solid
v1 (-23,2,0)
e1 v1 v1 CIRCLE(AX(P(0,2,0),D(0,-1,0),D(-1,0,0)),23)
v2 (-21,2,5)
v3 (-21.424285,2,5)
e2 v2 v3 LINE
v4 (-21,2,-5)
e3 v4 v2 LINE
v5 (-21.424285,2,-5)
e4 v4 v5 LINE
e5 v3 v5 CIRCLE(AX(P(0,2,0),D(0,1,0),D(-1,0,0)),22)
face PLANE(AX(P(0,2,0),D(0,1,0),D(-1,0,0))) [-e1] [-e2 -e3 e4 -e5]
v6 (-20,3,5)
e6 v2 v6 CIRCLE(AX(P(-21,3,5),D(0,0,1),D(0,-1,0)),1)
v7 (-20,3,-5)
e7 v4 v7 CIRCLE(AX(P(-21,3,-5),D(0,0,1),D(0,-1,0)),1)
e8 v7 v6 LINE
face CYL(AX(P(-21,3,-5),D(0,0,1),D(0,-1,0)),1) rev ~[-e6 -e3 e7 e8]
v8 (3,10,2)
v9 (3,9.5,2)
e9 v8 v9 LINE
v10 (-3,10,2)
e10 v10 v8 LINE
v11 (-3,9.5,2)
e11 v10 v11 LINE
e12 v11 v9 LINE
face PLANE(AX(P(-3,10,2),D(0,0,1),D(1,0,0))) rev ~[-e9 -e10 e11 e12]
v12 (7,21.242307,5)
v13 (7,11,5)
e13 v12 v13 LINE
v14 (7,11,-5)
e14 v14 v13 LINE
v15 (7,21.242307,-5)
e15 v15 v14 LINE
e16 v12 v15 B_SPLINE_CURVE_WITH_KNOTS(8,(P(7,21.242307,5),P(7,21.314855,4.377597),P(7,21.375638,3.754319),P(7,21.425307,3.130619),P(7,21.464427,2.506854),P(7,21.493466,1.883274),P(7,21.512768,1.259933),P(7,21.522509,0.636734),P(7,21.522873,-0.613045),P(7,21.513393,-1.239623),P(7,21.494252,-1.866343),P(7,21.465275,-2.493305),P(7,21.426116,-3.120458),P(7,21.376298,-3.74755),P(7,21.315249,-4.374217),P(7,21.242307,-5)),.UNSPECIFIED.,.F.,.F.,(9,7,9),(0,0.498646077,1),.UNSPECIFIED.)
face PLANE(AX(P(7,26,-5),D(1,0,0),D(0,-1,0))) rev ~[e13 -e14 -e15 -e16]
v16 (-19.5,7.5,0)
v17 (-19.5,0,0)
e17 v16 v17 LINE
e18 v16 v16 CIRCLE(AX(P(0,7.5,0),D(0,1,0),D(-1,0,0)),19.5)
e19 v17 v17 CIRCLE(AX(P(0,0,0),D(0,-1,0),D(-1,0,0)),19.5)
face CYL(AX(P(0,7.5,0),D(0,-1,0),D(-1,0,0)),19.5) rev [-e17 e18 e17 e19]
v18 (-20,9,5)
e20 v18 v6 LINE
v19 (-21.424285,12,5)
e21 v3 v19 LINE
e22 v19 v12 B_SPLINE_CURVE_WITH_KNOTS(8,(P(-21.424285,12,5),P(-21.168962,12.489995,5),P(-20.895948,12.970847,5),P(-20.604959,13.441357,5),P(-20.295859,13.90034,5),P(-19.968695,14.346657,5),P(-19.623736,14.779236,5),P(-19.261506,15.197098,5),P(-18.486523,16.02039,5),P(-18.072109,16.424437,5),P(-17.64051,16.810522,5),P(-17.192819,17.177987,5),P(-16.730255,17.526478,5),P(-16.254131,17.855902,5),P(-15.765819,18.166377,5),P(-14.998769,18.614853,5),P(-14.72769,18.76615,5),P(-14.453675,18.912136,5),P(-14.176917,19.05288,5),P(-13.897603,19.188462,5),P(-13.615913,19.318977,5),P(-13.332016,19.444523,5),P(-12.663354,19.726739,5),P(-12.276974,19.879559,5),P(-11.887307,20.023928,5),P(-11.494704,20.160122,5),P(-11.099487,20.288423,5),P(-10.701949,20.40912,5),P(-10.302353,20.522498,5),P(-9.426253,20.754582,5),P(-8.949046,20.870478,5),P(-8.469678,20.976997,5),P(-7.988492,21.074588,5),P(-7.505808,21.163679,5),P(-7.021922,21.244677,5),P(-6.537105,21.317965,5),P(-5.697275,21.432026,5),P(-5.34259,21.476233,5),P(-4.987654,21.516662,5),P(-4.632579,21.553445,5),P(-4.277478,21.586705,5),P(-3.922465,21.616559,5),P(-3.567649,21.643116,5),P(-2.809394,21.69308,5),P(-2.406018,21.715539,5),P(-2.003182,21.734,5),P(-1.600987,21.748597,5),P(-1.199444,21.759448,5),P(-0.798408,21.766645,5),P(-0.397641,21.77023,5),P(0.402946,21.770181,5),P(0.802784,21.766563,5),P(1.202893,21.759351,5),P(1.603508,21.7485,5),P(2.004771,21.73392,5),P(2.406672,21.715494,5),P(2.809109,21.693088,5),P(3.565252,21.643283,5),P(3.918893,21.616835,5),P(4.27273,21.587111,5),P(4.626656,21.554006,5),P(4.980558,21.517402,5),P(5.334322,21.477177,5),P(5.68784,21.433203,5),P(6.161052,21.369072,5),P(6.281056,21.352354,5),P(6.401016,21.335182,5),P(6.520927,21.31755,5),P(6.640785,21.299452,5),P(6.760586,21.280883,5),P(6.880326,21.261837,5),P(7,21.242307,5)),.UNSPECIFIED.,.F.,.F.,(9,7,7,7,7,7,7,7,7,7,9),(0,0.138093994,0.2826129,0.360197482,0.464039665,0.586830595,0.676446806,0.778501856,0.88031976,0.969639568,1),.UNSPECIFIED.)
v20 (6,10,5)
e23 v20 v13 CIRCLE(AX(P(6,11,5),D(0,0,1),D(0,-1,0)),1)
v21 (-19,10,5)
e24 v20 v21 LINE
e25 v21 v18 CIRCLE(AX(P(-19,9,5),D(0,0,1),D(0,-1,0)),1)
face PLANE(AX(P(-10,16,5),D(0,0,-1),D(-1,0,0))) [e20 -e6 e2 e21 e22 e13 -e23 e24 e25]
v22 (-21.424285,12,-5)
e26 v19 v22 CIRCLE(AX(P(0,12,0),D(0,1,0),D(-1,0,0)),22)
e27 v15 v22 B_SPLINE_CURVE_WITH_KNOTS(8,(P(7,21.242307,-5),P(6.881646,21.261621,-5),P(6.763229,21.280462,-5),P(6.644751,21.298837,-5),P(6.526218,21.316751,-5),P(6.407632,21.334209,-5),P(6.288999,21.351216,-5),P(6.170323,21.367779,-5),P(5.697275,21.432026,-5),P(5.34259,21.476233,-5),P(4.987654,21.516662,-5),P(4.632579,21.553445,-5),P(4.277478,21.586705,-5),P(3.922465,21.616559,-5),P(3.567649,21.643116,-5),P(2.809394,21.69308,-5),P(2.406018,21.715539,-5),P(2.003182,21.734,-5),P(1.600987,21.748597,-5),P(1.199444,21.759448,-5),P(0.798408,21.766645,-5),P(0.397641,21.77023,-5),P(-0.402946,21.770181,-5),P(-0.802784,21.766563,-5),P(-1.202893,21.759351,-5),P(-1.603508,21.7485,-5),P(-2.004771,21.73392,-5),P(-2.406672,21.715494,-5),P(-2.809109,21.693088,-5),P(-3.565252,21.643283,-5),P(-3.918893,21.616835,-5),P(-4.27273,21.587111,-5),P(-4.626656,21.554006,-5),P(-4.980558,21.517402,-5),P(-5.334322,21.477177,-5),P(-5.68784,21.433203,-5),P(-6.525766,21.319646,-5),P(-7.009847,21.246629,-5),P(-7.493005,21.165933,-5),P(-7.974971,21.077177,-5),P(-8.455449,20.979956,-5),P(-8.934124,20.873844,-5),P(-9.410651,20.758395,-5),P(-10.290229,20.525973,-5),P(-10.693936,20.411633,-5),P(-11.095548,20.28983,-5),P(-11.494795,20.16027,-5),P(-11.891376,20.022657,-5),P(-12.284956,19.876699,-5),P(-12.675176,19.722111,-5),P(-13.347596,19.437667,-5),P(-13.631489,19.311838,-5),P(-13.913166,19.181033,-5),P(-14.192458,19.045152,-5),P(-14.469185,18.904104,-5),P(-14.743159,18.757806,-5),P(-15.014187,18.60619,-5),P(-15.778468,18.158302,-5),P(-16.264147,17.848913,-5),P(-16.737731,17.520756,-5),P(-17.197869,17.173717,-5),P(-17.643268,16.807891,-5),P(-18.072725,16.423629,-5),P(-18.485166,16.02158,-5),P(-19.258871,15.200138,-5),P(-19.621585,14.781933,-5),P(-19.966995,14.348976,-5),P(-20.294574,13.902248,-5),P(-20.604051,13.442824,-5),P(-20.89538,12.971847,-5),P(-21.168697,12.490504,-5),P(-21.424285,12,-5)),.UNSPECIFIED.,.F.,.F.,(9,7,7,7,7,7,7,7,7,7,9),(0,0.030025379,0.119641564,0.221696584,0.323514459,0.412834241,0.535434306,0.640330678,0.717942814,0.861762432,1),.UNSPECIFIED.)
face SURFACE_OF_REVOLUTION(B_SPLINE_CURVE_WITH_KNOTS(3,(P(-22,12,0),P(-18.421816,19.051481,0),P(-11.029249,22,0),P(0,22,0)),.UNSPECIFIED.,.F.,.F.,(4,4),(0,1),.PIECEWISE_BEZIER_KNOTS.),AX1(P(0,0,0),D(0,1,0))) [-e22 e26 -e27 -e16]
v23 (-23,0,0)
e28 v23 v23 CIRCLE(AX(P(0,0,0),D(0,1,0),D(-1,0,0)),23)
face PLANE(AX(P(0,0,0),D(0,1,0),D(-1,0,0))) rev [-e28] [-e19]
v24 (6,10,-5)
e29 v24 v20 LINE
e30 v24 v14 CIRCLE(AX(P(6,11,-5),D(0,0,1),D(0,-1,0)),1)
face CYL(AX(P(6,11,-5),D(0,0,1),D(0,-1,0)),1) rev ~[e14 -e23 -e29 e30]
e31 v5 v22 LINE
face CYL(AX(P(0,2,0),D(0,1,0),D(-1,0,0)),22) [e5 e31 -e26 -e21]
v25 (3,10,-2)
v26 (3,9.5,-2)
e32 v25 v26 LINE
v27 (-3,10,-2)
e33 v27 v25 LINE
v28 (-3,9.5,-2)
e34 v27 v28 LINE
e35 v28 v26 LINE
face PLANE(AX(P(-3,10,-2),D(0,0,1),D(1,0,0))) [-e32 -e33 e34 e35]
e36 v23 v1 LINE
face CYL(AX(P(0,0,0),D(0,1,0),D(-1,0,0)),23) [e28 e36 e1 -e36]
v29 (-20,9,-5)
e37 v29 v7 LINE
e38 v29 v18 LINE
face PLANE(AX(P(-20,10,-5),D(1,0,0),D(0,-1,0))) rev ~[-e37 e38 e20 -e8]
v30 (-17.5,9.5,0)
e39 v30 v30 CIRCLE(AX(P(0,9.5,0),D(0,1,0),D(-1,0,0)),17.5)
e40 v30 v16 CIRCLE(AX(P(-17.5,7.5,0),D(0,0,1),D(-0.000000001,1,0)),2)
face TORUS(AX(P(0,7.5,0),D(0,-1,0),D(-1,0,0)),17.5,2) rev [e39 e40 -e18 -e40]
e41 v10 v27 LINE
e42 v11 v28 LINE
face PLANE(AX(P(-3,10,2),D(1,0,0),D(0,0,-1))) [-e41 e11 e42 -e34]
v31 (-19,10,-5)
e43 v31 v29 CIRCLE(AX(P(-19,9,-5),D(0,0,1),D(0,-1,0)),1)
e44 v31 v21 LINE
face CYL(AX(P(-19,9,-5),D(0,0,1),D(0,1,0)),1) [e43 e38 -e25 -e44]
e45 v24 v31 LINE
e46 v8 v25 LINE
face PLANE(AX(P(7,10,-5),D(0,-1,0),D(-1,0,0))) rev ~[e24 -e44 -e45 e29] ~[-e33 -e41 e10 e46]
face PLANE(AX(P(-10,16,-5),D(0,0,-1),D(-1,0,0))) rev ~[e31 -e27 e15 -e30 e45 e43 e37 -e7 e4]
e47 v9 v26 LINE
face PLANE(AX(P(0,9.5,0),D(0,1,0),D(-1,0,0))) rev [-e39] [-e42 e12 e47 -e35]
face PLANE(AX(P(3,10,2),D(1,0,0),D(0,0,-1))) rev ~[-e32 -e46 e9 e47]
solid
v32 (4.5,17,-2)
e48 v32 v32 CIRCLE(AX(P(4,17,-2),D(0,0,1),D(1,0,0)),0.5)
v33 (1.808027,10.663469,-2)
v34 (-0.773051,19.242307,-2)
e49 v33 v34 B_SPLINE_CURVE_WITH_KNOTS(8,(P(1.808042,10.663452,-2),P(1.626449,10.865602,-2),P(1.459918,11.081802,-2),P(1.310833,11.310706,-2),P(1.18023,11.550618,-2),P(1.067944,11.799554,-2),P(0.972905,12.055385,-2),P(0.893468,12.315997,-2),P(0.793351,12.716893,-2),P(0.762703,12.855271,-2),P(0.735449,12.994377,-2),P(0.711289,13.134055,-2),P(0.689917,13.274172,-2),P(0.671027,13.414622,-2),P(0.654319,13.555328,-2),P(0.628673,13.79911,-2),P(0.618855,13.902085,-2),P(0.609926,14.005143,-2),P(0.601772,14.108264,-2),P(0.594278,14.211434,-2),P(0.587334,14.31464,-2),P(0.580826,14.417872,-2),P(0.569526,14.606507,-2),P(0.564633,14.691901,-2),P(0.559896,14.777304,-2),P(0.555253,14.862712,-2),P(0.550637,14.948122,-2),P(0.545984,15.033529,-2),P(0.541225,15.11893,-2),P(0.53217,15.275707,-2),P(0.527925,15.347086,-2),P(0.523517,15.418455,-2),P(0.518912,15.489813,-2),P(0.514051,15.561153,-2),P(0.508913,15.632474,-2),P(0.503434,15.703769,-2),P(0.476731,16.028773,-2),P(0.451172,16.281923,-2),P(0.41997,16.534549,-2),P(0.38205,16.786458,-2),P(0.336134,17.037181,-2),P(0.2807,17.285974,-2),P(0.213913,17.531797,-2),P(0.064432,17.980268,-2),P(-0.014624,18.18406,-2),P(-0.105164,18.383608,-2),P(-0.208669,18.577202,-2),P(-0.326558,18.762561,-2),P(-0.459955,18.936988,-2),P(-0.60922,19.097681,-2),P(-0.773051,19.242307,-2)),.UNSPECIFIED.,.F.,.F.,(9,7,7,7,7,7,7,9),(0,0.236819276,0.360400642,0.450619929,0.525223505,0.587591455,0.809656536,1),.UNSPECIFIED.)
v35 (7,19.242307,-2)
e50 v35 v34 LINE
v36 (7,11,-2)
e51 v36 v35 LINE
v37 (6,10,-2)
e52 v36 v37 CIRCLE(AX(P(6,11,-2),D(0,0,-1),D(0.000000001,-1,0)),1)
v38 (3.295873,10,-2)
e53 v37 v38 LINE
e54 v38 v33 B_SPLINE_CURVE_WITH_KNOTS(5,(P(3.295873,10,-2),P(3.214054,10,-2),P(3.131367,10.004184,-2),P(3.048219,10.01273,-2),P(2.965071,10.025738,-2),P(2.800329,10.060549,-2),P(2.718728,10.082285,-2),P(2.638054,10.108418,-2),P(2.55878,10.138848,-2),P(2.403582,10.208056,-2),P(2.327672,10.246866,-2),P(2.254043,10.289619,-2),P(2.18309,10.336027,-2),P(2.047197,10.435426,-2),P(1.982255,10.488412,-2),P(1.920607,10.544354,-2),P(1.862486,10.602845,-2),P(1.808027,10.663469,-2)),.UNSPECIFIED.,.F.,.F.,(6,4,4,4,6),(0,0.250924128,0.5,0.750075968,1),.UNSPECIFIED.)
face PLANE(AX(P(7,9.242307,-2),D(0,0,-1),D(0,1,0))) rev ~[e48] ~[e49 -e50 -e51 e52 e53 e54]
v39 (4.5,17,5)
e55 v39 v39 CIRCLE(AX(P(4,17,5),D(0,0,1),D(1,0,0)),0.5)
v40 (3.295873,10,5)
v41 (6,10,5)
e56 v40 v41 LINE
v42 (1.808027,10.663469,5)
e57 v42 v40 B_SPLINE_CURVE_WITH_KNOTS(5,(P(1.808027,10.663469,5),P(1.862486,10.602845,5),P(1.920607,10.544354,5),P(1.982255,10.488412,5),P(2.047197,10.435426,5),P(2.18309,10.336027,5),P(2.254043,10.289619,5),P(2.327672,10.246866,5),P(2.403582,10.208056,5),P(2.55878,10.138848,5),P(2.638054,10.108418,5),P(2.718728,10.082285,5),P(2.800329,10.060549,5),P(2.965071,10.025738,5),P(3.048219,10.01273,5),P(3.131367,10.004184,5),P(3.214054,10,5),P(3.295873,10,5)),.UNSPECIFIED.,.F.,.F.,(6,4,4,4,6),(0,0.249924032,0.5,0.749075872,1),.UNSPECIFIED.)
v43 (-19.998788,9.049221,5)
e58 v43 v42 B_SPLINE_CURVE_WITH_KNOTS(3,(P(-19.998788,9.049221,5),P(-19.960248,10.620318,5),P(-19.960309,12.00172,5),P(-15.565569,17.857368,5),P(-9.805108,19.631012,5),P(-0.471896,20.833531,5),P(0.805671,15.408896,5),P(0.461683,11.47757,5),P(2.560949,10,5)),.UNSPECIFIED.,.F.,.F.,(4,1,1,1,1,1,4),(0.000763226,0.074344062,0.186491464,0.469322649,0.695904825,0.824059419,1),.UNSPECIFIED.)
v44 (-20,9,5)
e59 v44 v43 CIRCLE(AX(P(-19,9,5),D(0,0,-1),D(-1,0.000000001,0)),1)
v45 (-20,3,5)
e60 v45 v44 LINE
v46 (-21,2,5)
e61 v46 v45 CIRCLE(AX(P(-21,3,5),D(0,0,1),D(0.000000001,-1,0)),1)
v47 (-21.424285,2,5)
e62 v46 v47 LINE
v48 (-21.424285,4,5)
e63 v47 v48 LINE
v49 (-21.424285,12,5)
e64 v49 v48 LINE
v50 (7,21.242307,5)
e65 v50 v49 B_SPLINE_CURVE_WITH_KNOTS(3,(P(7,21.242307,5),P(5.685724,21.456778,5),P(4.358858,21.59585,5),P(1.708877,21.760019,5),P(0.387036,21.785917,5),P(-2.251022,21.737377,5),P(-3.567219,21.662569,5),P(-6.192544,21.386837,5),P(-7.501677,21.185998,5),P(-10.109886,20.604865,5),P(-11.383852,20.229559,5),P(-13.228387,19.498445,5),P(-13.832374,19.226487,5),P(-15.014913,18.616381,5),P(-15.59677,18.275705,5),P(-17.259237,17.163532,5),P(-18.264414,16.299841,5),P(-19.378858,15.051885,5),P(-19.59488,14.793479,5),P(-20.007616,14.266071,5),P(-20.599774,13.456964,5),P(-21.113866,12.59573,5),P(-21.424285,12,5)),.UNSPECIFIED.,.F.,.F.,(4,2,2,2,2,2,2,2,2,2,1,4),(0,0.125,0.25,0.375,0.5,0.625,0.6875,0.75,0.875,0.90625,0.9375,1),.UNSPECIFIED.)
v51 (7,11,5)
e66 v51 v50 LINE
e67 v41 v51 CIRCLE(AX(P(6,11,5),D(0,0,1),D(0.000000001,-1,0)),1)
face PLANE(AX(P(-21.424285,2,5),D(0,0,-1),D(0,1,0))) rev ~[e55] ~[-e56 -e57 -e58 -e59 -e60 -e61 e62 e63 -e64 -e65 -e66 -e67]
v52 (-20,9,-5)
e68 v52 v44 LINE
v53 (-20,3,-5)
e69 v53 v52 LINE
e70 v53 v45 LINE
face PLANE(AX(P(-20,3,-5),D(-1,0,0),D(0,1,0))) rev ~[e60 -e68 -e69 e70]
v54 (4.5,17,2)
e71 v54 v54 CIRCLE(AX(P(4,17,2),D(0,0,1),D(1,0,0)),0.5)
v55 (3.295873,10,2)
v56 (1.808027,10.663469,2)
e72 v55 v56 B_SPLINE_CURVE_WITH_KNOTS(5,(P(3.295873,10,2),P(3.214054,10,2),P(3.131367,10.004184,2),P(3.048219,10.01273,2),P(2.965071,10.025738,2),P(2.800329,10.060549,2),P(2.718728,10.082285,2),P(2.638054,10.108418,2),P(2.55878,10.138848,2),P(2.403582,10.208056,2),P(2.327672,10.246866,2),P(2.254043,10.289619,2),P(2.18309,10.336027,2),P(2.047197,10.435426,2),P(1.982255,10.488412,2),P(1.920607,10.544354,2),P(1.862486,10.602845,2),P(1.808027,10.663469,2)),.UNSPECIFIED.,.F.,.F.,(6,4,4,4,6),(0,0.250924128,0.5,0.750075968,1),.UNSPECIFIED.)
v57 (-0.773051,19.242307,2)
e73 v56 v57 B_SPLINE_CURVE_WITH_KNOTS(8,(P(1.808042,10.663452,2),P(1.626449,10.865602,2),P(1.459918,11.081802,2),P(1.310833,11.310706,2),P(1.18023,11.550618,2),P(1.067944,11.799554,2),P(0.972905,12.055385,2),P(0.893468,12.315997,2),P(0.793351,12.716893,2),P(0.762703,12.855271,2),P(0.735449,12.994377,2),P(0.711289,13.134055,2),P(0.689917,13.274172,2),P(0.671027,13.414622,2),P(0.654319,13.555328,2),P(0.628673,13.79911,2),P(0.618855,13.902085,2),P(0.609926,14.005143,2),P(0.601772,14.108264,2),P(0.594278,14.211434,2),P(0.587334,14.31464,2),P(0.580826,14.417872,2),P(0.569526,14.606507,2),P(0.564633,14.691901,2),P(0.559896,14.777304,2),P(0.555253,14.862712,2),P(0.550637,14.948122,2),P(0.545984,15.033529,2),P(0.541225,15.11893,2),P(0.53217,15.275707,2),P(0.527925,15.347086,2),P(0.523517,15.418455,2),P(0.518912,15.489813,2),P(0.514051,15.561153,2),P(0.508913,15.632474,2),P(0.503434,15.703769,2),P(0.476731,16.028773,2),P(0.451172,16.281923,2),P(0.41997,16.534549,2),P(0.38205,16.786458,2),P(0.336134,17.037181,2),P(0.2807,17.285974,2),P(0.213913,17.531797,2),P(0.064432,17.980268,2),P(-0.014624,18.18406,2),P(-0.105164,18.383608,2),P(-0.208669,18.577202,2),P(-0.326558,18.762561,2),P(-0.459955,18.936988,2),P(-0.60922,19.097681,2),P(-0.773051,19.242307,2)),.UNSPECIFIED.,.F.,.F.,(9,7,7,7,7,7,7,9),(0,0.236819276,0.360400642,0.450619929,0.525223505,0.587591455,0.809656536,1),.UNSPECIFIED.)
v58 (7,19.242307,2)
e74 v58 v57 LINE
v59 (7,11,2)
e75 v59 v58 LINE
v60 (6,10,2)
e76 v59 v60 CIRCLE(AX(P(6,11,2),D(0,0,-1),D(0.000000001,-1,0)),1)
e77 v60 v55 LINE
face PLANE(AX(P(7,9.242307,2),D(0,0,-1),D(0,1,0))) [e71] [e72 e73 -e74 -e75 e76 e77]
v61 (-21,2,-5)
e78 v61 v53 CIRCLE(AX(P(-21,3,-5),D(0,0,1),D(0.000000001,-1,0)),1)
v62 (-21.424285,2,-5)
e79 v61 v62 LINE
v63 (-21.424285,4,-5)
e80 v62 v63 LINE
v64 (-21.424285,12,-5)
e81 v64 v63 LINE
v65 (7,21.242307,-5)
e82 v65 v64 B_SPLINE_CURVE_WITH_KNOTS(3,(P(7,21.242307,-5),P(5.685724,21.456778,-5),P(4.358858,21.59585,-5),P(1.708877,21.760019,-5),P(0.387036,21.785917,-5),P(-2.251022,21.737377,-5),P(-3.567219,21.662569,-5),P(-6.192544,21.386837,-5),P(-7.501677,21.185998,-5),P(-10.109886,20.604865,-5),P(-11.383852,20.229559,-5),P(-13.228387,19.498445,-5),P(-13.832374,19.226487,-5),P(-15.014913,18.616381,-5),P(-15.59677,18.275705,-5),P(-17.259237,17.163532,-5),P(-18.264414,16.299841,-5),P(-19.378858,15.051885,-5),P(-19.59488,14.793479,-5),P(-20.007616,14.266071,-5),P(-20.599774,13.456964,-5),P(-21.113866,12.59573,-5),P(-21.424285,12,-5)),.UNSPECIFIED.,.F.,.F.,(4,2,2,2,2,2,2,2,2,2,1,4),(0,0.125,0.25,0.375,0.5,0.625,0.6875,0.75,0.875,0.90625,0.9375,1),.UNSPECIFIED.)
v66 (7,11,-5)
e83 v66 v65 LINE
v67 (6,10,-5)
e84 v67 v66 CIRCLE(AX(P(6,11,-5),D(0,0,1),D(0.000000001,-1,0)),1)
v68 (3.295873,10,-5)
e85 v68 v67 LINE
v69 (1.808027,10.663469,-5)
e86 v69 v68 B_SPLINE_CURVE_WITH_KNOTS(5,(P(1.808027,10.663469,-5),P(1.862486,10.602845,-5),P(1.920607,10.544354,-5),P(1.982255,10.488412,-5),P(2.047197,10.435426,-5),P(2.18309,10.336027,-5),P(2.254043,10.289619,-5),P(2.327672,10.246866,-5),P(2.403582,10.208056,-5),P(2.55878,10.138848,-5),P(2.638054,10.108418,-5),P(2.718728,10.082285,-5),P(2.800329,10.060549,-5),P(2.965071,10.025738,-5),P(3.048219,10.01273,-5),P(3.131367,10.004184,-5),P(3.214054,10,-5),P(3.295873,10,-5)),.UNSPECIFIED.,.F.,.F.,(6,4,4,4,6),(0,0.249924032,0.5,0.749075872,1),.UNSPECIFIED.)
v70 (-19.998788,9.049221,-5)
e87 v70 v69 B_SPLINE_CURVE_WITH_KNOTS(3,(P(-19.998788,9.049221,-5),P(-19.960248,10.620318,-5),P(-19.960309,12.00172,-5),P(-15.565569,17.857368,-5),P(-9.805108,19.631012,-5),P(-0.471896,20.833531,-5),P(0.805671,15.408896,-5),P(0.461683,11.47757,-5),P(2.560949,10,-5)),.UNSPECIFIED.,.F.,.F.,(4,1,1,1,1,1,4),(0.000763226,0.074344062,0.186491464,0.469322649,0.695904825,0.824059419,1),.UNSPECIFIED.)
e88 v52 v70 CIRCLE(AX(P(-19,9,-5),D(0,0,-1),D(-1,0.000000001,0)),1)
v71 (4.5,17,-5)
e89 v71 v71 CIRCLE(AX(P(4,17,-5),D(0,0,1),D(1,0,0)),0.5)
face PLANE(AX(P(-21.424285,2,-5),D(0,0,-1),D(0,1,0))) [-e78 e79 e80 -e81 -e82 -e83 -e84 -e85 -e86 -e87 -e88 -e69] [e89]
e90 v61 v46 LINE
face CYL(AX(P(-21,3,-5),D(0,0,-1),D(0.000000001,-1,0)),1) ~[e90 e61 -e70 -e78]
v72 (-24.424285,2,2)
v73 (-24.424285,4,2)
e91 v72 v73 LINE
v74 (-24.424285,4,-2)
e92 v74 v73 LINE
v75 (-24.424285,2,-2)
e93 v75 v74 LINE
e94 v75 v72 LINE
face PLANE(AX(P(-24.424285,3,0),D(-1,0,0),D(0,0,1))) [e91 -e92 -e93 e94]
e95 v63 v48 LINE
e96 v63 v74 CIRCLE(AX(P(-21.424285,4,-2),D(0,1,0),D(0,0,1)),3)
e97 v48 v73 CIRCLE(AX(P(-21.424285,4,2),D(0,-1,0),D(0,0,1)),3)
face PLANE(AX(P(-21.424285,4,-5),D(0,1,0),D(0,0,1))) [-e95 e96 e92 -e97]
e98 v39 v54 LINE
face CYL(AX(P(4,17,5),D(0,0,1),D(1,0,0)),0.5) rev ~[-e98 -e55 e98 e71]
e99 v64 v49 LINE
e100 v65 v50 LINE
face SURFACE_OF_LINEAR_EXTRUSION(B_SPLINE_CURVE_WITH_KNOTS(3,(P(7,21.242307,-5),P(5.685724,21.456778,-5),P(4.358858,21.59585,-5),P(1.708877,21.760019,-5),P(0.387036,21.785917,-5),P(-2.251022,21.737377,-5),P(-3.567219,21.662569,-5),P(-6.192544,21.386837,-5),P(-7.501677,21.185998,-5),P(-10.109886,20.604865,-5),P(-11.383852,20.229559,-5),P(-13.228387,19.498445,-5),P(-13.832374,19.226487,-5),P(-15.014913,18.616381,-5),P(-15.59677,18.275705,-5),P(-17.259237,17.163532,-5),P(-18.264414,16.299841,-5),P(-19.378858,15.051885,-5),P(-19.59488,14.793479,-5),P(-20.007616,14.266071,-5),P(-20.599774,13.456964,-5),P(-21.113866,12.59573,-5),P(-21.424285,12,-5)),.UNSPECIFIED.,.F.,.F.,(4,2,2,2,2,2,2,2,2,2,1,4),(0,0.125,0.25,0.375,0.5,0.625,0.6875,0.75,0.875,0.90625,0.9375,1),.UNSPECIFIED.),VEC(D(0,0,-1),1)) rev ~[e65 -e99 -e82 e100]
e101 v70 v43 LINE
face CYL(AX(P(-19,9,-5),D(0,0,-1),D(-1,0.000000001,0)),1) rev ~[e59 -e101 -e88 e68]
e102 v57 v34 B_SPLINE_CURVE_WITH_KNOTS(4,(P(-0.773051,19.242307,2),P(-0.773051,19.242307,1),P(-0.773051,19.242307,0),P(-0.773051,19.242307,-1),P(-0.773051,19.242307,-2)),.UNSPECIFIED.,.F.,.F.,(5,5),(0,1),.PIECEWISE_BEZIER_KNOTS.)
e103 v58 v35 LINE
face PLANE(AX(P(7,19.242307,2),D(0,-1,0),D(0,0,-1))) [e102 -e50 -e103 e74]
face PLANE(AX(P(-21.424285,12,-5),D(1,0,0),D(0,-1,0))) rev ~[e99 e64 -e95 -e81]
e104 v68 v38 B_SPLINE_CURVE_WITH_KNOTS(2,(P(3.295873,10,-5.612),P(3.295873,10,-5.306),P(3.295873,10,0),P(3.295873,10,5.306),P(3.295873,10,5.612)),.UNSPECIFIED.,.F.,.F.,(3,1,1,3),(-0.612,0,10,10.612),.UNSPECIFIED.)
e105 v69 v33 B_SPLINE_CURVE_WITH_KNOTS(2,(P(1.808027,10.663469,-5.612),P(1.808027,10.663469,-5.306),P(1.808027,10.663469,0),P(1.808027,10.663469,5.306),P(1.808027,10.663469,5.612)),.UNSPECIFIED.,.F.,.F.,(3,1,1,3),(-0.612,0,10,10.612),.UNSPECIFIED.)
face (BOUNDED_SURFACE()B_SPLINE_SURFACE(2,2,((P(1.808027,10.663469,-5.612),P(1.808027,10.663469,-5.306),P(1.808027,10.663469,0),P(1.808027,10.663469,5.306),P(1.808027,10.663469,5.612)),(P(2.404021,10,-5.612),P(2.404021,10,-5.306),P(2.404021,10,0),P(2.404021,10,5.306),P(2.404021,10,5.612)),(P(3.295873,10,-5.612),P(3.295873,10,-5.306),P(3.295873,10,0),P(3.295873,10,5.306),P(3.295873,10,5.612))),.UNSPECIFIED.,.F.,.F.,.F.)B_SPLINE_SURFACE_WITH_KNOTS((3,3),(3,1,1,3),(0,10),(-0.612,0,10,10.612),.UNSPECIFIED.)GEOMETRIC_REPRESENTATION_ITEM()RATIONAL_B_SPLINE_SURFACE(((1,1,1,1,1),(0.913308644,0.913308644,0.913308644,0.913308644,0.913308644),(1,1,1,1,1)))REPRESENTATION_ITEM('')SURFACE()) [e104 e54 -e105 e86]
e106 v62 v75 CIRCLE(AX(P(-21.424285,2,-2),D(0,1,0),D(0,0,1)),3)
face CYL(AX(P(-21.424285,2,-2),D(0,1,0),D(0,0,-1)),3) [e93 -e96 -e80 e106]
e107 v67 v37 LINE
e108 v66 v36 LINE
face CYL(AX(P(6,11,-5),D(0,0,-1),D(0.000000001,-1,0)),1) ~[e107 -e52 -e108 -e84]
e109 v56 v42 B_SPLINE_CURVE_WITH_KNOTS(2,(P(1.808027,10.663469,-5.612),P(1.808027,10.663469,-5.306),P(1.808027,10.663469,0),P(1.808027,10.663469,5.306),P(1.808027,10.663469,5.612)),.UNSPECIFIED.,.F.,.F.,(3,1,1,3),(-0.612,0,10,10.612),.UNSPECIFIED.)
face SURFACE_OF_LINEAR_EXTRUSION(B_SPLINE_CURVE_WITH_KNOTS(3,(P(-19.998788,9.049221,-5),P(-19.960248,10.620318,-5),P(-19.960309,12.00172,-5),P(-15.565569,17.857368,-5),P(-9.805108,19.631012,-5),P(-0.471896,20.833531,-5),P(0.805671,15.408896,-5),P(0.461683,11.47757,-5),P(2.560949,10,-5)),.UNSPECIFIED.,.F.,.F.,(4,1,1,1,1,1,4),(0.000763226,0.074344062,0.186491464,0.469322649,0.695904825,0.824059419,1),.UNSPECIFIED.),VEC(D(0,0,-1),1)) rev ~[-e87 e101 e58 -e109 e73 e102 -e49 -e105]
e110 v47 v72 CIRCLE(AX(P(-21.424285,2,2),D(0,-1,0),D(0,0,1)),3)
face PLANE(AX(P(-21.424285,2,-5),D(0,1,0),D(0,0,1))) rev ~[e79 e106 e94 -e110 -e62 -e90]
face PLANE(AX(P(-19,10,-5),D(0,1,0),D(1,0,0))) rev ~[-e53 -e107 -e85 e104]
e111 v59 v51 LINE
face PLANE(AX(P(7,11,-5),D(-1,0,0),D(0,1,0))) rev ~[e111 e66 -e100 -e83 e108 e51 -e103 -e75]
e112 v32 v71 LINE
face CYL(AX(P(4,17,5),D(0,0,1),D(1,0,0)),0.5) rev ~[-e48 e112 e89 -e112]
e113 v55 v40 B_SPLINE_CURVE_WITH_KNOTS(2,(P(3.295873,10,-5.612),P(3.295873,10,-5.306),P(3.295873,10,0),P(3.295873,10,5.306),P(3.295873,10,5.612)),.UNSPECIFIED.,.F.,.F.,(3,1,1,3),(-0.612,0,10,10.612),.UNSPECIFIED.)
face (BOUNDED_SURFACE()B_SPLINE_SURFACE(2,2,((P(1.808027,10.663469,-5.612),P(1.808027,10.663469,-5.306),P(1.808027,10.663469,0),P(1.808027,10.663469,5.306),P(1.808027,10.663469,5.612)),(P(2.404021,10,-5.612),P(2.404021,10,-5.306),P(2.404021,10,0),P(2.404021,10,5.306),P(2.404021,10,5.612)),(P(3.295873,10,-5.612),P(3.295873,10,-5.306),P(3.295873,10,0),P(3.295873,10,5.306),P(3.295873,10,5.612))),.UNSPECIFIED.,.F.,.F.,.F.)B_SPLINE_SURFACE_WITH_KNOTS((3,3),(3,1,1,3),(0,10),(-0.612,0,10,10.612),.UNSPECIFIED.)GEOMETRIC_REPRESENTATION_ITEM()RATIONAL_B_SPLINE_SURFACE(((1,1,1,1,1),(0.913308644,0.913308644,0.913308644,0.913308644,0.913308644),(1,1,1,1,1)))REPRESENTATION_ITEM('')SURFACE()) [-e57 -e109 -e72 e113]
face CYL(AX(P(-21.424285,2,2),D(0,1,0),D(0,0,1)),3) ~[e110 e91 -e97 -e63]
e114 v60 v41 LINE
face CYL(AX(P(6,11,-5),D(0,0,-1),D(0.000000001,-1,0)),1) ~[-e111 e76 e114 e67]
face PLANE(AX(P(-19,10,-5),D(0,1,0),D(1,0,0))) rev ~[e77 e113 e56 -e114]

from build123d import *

# Parameters (mm, degrees)
LEVER_SLOT_CUT_DEPTH      = 5
LEVER_SLOT_CUT_DEPTH_BACK = 5
LEVER_SLOT_FILLET_R       = 1
CUP_PLUNGER_PROFILE_W     = 6
CUP_PLUNGER_PROFILE_H     = 4
CUP_PLUNGER_CUT_DEPTH     = 35.591006714
LEVER_EXTRUDE_DEPTH       = 5
LEVER_EXTRUDE_DEPTH_BACK  = 5
FINGER_CATCH_PROFILE_W    = 10
FINGER_CATCH_PROFILE_H    = 2
FINGER_CATCH_DEPTH        = 3
FINGER_CATCH_FILLET_R     = 3
LEVER_START               = -10
LEVER_SHAPE_CUT_DEPTH     = 10
LEVER_FILLET_R            = 2
PIN_HOLE_PROFILE_R        = 0.5
PIN_HOLE_CUT_DEPTH        = 10
PLUNGER_SLOT_PROFILE_W    = 4
PLUNGER_SLOT_PROFILE_H    = 10
PLUNGER_SLOT_CUT_DEPTH    = 10


with BuildPart() as part:
    # Suction Cup Profile → Suction Cup Revolve (revolve)
    with BuildSketch(Plane.XY):
        with BuildLine():
            Line((0, 0), (-23, 0))
            Line((-23, 0), (-23, 2))
            Line((-23, 2), (-22, 2))
            Line((-22, 2), (-22, 12))
            add(Edge.make_bspline(
                [(-22, 12), (-18.421815933, 19.051481144), (-11.029248688, 22), (0, 22)],
                knots=[0, 0, 0, 0, 1, 1, 1, 1], degree=3))
            Line((0, 22), (0, 0))
        make_face()
    revolve(axis=Axis((0, 0, 0), (0, 1, 0)))

    # Lever Slot Profile → Lever Slot Cut (cut, two sides: drawn at the far end of the back side and taken through both)
    with BuildSketch(Plane.XY.offset(-LEVER_SLOT_CUT_DEPTH_BACK)):
        Polygon((7, 10), (-20, 10), (-20, 2), (-23, 2), (-23, 26), (7, 26), align=None)
    extrude(amount=LEVER_SLOT_CUT_DEPTH + LEVER_SLOT_CUT_DEPTH_BACK, mode=Mode.SUBTRACT)

    # Lever Slot Fillet
    lever_slot_fillet_edges = [part.edges().sort_by_distance(p)[0] for p in [
        (7, 10, 0),
        (-20, 2, 0),
        (-20, 10, 0),
    ]]
    fillet(lever_slot_fillet_edges, radius=LEVER_SLOT_FILLET_R)

    # Cup Plunger Profile → Cup Plunger Cut (cut, through all)
    with BuildSketch(Plane(origin=(0, 10, 0), x_dir=(1, 0, 0), z_dir=(0, 1, 0))):
        Rectangle(CUP_PLUNGER_PROFILE_W, CUP_PLUNGER_PROFILE_H)
    extrude(amount=-CUP_PLUNGER_CUT_DEPTH, mode=Mode.SUBTRACT)

    # Pad Slot Profile → Pad Cut Profile (revolve, cut)
    with BuildSketch(Plane.XY):
        with BuildLine():
            Line((0, 9.5), (-17.5, 9.5))
            ThreePointArc((-17.5, 9.5), (-18.914213562, 8.914213562), (-19.5, 7.5))
            Line((-19.5, 7.5), (-19.5, -2.5))
            Line((-19.5, -2.5), (0, -2.5))
            Line((0, -2.5), (0, 9.5))
        make_face()
    revolve(axis=Axis((0, 0, 0), (0, 1, 0)), mode=Mode.SUBTRACT)


with BuildPart() as body_2:
    # Lever Extrude Profile → Lever Extrude (new, two sides: drawn at the far end of the back side and taken through both)
    with BuildSketch(Plane.XY.offset(-LEVER_EXTRUDE_DEPTH_BACK)):
        with BuildLine():
            Line((-19, 10), (6, 10))
            ThreePointArc((6, 10), (6.707106781, 10.292893219), (7, 11))
            Line((7, 11), (7, 21.242307449))
            add(Edge.make_bspline(
                [(7, 21.242307449), (5.685724143, 21.456777565), (4.358857594, 21.595849723), (1.708877373, 21.760019267), (0.387036337, 21.785917476), (-2.251022195, 21.737377334), (-3.567218971, 21.662569282), (-6.192544108, 21.386836768), (-7.501677285, 21.185998254), (-10.10988568, 20.604864637), (-11.383851689, 20.229558725), (-13.228387001, 19.49844466), (-13.832374383, 19.226486682), (-15.014912539, 18.616381153), (-15.596770073, 18.275704638), (-17.259236778, 17.163531752), (-18.26441362, 16.299840579), (-19.378857685, 15.051885465), (-19.594879608, 14.793479293), (-20.007615977, 14.266070663), (-20.599773978, 13.456964359), (-21.113866261, 12.595730264), (-21.424285286, 12)],
                knots=[0, 0, 0, 0, 0.125, 0.125, 0.25, 0.25, 0.375, 0.375, 0.5, 0.5, 0.625, 0.625, 0.6875, 0.6875, 0.75, 0.75, 0.875, 0.875, 0.90625, 0.90625, 0.9375, 1, 1, 1, 1], degree=3))
            Line((-21.424285286, 12), (-21.424285286, 2))
            Line((-21.424285286, 2), (-21, 2))
            ThreePointArc((-21, 2), (-20.292893219, 2.292893219), (-20, 3))
            Line((-20, 3), (-20, 9))
            ThreePointArc((-20, 9), (-19.707106781, 9.707106781), (-19, 10))
        make_face()
    extrude(amount=LEVER_EXTRUDE_DEPTH + LEVER_EXTRUDE_DEPTH_BACK)

    # Finger Catch Profile → Finger Catch (add)
    with BuildSketch(Plane.ZY.offset(21.424285286)):
        with Locations((0, 3)):
            Rectangle(FINGER_CATCH_PROFILE_W, FINGER_CATCH_PROFILE_H)
    extrude(amount=FINGER_CATCH_DEPTH)

    # Finger Catch Fillet
    finger_catch_fillet_edges = [body_2.edges().sort_by_distance(p)[0] for p in [
        (-24.424285286, 3, 5),
        (-24.424285286, 3, -5),
    ]]
    fillet(finger_catch_fillet_edges, radius=FINGER_CATCH_FILLET_R)

    # Lever Shape Profile → Lever Shape Cut (cut)
    with BuildSketch(Plane.XY.offset(5).offset(LEVER_START)):
        with BuildLine():
            Line((-19, 10), (2.560949496, 10))
            add(Edge.make_bspline(
                [(-19.998787914, 9.04922096), (-19.960247668, 10.620318048), (-19.960308906, 12.001719532), (-15.565568962, 17.857367825), (-9.805108275, 19.631012422), (-0.471896304, 20.833531175), (0.805670786, 15.408896049), (0.461682929, 11.477569724), (2.560949496, 10)],
                knots=[0.000763226, 0.000763226, 0.000763226, 0.000763226, 0.074344062, 0.186491464, 0.469322649, 0.695904825, 0.824059419, 1, 1, 1, 1], degree=3))
            ThreePointArc((-19.998787914, 9.04922096), (-19.689484967, 9.724299993), (-19, 10))
        make_face()
    extrude(amount=LEVER_SHAPE_CUT_DEPTH, mode=Mode.SUBTRACT)

    # Lever Fillet
    lever_fillet_edges = [body_2.edges().sort_by_distance(p)[0] for p in [
        (2.560949496, 10, 0),
    ]]
    fillet(lever_fillet_edges, radius=LEVER_FILLET_R)

    # Pin Hole Profile → Pin Hole Cut (cut)
    with BuildSketch(Plane.XY.offset(5)):
        with Locations((4, 17)):
            Circle(PIN_HOLE_PROFILE_R)
    extrude(amount=-PIN_HOLE_CUT_DEPTH, mode=Mode.SUBTRACT)

    # Plunger Slot Profile → Plunger Slot Cut (cut)
    with BuildSketch(Plane(origin=(7, 0, 0), x_dir=(0, 0, -1), z_dir=(1, 0, 0))):
        with Locations((0, 14.242307449)):
            Rectangle(PLUNGER_SLOT_PROFILE_W, PLUNGER_SLOT_PROFILE_H)
    extrude(amount=-PLUNGER_SLOT_CUT_DEPTH, mode=Mode.SUBTRACT)


solid = Compound([part.part, body_2.part])
